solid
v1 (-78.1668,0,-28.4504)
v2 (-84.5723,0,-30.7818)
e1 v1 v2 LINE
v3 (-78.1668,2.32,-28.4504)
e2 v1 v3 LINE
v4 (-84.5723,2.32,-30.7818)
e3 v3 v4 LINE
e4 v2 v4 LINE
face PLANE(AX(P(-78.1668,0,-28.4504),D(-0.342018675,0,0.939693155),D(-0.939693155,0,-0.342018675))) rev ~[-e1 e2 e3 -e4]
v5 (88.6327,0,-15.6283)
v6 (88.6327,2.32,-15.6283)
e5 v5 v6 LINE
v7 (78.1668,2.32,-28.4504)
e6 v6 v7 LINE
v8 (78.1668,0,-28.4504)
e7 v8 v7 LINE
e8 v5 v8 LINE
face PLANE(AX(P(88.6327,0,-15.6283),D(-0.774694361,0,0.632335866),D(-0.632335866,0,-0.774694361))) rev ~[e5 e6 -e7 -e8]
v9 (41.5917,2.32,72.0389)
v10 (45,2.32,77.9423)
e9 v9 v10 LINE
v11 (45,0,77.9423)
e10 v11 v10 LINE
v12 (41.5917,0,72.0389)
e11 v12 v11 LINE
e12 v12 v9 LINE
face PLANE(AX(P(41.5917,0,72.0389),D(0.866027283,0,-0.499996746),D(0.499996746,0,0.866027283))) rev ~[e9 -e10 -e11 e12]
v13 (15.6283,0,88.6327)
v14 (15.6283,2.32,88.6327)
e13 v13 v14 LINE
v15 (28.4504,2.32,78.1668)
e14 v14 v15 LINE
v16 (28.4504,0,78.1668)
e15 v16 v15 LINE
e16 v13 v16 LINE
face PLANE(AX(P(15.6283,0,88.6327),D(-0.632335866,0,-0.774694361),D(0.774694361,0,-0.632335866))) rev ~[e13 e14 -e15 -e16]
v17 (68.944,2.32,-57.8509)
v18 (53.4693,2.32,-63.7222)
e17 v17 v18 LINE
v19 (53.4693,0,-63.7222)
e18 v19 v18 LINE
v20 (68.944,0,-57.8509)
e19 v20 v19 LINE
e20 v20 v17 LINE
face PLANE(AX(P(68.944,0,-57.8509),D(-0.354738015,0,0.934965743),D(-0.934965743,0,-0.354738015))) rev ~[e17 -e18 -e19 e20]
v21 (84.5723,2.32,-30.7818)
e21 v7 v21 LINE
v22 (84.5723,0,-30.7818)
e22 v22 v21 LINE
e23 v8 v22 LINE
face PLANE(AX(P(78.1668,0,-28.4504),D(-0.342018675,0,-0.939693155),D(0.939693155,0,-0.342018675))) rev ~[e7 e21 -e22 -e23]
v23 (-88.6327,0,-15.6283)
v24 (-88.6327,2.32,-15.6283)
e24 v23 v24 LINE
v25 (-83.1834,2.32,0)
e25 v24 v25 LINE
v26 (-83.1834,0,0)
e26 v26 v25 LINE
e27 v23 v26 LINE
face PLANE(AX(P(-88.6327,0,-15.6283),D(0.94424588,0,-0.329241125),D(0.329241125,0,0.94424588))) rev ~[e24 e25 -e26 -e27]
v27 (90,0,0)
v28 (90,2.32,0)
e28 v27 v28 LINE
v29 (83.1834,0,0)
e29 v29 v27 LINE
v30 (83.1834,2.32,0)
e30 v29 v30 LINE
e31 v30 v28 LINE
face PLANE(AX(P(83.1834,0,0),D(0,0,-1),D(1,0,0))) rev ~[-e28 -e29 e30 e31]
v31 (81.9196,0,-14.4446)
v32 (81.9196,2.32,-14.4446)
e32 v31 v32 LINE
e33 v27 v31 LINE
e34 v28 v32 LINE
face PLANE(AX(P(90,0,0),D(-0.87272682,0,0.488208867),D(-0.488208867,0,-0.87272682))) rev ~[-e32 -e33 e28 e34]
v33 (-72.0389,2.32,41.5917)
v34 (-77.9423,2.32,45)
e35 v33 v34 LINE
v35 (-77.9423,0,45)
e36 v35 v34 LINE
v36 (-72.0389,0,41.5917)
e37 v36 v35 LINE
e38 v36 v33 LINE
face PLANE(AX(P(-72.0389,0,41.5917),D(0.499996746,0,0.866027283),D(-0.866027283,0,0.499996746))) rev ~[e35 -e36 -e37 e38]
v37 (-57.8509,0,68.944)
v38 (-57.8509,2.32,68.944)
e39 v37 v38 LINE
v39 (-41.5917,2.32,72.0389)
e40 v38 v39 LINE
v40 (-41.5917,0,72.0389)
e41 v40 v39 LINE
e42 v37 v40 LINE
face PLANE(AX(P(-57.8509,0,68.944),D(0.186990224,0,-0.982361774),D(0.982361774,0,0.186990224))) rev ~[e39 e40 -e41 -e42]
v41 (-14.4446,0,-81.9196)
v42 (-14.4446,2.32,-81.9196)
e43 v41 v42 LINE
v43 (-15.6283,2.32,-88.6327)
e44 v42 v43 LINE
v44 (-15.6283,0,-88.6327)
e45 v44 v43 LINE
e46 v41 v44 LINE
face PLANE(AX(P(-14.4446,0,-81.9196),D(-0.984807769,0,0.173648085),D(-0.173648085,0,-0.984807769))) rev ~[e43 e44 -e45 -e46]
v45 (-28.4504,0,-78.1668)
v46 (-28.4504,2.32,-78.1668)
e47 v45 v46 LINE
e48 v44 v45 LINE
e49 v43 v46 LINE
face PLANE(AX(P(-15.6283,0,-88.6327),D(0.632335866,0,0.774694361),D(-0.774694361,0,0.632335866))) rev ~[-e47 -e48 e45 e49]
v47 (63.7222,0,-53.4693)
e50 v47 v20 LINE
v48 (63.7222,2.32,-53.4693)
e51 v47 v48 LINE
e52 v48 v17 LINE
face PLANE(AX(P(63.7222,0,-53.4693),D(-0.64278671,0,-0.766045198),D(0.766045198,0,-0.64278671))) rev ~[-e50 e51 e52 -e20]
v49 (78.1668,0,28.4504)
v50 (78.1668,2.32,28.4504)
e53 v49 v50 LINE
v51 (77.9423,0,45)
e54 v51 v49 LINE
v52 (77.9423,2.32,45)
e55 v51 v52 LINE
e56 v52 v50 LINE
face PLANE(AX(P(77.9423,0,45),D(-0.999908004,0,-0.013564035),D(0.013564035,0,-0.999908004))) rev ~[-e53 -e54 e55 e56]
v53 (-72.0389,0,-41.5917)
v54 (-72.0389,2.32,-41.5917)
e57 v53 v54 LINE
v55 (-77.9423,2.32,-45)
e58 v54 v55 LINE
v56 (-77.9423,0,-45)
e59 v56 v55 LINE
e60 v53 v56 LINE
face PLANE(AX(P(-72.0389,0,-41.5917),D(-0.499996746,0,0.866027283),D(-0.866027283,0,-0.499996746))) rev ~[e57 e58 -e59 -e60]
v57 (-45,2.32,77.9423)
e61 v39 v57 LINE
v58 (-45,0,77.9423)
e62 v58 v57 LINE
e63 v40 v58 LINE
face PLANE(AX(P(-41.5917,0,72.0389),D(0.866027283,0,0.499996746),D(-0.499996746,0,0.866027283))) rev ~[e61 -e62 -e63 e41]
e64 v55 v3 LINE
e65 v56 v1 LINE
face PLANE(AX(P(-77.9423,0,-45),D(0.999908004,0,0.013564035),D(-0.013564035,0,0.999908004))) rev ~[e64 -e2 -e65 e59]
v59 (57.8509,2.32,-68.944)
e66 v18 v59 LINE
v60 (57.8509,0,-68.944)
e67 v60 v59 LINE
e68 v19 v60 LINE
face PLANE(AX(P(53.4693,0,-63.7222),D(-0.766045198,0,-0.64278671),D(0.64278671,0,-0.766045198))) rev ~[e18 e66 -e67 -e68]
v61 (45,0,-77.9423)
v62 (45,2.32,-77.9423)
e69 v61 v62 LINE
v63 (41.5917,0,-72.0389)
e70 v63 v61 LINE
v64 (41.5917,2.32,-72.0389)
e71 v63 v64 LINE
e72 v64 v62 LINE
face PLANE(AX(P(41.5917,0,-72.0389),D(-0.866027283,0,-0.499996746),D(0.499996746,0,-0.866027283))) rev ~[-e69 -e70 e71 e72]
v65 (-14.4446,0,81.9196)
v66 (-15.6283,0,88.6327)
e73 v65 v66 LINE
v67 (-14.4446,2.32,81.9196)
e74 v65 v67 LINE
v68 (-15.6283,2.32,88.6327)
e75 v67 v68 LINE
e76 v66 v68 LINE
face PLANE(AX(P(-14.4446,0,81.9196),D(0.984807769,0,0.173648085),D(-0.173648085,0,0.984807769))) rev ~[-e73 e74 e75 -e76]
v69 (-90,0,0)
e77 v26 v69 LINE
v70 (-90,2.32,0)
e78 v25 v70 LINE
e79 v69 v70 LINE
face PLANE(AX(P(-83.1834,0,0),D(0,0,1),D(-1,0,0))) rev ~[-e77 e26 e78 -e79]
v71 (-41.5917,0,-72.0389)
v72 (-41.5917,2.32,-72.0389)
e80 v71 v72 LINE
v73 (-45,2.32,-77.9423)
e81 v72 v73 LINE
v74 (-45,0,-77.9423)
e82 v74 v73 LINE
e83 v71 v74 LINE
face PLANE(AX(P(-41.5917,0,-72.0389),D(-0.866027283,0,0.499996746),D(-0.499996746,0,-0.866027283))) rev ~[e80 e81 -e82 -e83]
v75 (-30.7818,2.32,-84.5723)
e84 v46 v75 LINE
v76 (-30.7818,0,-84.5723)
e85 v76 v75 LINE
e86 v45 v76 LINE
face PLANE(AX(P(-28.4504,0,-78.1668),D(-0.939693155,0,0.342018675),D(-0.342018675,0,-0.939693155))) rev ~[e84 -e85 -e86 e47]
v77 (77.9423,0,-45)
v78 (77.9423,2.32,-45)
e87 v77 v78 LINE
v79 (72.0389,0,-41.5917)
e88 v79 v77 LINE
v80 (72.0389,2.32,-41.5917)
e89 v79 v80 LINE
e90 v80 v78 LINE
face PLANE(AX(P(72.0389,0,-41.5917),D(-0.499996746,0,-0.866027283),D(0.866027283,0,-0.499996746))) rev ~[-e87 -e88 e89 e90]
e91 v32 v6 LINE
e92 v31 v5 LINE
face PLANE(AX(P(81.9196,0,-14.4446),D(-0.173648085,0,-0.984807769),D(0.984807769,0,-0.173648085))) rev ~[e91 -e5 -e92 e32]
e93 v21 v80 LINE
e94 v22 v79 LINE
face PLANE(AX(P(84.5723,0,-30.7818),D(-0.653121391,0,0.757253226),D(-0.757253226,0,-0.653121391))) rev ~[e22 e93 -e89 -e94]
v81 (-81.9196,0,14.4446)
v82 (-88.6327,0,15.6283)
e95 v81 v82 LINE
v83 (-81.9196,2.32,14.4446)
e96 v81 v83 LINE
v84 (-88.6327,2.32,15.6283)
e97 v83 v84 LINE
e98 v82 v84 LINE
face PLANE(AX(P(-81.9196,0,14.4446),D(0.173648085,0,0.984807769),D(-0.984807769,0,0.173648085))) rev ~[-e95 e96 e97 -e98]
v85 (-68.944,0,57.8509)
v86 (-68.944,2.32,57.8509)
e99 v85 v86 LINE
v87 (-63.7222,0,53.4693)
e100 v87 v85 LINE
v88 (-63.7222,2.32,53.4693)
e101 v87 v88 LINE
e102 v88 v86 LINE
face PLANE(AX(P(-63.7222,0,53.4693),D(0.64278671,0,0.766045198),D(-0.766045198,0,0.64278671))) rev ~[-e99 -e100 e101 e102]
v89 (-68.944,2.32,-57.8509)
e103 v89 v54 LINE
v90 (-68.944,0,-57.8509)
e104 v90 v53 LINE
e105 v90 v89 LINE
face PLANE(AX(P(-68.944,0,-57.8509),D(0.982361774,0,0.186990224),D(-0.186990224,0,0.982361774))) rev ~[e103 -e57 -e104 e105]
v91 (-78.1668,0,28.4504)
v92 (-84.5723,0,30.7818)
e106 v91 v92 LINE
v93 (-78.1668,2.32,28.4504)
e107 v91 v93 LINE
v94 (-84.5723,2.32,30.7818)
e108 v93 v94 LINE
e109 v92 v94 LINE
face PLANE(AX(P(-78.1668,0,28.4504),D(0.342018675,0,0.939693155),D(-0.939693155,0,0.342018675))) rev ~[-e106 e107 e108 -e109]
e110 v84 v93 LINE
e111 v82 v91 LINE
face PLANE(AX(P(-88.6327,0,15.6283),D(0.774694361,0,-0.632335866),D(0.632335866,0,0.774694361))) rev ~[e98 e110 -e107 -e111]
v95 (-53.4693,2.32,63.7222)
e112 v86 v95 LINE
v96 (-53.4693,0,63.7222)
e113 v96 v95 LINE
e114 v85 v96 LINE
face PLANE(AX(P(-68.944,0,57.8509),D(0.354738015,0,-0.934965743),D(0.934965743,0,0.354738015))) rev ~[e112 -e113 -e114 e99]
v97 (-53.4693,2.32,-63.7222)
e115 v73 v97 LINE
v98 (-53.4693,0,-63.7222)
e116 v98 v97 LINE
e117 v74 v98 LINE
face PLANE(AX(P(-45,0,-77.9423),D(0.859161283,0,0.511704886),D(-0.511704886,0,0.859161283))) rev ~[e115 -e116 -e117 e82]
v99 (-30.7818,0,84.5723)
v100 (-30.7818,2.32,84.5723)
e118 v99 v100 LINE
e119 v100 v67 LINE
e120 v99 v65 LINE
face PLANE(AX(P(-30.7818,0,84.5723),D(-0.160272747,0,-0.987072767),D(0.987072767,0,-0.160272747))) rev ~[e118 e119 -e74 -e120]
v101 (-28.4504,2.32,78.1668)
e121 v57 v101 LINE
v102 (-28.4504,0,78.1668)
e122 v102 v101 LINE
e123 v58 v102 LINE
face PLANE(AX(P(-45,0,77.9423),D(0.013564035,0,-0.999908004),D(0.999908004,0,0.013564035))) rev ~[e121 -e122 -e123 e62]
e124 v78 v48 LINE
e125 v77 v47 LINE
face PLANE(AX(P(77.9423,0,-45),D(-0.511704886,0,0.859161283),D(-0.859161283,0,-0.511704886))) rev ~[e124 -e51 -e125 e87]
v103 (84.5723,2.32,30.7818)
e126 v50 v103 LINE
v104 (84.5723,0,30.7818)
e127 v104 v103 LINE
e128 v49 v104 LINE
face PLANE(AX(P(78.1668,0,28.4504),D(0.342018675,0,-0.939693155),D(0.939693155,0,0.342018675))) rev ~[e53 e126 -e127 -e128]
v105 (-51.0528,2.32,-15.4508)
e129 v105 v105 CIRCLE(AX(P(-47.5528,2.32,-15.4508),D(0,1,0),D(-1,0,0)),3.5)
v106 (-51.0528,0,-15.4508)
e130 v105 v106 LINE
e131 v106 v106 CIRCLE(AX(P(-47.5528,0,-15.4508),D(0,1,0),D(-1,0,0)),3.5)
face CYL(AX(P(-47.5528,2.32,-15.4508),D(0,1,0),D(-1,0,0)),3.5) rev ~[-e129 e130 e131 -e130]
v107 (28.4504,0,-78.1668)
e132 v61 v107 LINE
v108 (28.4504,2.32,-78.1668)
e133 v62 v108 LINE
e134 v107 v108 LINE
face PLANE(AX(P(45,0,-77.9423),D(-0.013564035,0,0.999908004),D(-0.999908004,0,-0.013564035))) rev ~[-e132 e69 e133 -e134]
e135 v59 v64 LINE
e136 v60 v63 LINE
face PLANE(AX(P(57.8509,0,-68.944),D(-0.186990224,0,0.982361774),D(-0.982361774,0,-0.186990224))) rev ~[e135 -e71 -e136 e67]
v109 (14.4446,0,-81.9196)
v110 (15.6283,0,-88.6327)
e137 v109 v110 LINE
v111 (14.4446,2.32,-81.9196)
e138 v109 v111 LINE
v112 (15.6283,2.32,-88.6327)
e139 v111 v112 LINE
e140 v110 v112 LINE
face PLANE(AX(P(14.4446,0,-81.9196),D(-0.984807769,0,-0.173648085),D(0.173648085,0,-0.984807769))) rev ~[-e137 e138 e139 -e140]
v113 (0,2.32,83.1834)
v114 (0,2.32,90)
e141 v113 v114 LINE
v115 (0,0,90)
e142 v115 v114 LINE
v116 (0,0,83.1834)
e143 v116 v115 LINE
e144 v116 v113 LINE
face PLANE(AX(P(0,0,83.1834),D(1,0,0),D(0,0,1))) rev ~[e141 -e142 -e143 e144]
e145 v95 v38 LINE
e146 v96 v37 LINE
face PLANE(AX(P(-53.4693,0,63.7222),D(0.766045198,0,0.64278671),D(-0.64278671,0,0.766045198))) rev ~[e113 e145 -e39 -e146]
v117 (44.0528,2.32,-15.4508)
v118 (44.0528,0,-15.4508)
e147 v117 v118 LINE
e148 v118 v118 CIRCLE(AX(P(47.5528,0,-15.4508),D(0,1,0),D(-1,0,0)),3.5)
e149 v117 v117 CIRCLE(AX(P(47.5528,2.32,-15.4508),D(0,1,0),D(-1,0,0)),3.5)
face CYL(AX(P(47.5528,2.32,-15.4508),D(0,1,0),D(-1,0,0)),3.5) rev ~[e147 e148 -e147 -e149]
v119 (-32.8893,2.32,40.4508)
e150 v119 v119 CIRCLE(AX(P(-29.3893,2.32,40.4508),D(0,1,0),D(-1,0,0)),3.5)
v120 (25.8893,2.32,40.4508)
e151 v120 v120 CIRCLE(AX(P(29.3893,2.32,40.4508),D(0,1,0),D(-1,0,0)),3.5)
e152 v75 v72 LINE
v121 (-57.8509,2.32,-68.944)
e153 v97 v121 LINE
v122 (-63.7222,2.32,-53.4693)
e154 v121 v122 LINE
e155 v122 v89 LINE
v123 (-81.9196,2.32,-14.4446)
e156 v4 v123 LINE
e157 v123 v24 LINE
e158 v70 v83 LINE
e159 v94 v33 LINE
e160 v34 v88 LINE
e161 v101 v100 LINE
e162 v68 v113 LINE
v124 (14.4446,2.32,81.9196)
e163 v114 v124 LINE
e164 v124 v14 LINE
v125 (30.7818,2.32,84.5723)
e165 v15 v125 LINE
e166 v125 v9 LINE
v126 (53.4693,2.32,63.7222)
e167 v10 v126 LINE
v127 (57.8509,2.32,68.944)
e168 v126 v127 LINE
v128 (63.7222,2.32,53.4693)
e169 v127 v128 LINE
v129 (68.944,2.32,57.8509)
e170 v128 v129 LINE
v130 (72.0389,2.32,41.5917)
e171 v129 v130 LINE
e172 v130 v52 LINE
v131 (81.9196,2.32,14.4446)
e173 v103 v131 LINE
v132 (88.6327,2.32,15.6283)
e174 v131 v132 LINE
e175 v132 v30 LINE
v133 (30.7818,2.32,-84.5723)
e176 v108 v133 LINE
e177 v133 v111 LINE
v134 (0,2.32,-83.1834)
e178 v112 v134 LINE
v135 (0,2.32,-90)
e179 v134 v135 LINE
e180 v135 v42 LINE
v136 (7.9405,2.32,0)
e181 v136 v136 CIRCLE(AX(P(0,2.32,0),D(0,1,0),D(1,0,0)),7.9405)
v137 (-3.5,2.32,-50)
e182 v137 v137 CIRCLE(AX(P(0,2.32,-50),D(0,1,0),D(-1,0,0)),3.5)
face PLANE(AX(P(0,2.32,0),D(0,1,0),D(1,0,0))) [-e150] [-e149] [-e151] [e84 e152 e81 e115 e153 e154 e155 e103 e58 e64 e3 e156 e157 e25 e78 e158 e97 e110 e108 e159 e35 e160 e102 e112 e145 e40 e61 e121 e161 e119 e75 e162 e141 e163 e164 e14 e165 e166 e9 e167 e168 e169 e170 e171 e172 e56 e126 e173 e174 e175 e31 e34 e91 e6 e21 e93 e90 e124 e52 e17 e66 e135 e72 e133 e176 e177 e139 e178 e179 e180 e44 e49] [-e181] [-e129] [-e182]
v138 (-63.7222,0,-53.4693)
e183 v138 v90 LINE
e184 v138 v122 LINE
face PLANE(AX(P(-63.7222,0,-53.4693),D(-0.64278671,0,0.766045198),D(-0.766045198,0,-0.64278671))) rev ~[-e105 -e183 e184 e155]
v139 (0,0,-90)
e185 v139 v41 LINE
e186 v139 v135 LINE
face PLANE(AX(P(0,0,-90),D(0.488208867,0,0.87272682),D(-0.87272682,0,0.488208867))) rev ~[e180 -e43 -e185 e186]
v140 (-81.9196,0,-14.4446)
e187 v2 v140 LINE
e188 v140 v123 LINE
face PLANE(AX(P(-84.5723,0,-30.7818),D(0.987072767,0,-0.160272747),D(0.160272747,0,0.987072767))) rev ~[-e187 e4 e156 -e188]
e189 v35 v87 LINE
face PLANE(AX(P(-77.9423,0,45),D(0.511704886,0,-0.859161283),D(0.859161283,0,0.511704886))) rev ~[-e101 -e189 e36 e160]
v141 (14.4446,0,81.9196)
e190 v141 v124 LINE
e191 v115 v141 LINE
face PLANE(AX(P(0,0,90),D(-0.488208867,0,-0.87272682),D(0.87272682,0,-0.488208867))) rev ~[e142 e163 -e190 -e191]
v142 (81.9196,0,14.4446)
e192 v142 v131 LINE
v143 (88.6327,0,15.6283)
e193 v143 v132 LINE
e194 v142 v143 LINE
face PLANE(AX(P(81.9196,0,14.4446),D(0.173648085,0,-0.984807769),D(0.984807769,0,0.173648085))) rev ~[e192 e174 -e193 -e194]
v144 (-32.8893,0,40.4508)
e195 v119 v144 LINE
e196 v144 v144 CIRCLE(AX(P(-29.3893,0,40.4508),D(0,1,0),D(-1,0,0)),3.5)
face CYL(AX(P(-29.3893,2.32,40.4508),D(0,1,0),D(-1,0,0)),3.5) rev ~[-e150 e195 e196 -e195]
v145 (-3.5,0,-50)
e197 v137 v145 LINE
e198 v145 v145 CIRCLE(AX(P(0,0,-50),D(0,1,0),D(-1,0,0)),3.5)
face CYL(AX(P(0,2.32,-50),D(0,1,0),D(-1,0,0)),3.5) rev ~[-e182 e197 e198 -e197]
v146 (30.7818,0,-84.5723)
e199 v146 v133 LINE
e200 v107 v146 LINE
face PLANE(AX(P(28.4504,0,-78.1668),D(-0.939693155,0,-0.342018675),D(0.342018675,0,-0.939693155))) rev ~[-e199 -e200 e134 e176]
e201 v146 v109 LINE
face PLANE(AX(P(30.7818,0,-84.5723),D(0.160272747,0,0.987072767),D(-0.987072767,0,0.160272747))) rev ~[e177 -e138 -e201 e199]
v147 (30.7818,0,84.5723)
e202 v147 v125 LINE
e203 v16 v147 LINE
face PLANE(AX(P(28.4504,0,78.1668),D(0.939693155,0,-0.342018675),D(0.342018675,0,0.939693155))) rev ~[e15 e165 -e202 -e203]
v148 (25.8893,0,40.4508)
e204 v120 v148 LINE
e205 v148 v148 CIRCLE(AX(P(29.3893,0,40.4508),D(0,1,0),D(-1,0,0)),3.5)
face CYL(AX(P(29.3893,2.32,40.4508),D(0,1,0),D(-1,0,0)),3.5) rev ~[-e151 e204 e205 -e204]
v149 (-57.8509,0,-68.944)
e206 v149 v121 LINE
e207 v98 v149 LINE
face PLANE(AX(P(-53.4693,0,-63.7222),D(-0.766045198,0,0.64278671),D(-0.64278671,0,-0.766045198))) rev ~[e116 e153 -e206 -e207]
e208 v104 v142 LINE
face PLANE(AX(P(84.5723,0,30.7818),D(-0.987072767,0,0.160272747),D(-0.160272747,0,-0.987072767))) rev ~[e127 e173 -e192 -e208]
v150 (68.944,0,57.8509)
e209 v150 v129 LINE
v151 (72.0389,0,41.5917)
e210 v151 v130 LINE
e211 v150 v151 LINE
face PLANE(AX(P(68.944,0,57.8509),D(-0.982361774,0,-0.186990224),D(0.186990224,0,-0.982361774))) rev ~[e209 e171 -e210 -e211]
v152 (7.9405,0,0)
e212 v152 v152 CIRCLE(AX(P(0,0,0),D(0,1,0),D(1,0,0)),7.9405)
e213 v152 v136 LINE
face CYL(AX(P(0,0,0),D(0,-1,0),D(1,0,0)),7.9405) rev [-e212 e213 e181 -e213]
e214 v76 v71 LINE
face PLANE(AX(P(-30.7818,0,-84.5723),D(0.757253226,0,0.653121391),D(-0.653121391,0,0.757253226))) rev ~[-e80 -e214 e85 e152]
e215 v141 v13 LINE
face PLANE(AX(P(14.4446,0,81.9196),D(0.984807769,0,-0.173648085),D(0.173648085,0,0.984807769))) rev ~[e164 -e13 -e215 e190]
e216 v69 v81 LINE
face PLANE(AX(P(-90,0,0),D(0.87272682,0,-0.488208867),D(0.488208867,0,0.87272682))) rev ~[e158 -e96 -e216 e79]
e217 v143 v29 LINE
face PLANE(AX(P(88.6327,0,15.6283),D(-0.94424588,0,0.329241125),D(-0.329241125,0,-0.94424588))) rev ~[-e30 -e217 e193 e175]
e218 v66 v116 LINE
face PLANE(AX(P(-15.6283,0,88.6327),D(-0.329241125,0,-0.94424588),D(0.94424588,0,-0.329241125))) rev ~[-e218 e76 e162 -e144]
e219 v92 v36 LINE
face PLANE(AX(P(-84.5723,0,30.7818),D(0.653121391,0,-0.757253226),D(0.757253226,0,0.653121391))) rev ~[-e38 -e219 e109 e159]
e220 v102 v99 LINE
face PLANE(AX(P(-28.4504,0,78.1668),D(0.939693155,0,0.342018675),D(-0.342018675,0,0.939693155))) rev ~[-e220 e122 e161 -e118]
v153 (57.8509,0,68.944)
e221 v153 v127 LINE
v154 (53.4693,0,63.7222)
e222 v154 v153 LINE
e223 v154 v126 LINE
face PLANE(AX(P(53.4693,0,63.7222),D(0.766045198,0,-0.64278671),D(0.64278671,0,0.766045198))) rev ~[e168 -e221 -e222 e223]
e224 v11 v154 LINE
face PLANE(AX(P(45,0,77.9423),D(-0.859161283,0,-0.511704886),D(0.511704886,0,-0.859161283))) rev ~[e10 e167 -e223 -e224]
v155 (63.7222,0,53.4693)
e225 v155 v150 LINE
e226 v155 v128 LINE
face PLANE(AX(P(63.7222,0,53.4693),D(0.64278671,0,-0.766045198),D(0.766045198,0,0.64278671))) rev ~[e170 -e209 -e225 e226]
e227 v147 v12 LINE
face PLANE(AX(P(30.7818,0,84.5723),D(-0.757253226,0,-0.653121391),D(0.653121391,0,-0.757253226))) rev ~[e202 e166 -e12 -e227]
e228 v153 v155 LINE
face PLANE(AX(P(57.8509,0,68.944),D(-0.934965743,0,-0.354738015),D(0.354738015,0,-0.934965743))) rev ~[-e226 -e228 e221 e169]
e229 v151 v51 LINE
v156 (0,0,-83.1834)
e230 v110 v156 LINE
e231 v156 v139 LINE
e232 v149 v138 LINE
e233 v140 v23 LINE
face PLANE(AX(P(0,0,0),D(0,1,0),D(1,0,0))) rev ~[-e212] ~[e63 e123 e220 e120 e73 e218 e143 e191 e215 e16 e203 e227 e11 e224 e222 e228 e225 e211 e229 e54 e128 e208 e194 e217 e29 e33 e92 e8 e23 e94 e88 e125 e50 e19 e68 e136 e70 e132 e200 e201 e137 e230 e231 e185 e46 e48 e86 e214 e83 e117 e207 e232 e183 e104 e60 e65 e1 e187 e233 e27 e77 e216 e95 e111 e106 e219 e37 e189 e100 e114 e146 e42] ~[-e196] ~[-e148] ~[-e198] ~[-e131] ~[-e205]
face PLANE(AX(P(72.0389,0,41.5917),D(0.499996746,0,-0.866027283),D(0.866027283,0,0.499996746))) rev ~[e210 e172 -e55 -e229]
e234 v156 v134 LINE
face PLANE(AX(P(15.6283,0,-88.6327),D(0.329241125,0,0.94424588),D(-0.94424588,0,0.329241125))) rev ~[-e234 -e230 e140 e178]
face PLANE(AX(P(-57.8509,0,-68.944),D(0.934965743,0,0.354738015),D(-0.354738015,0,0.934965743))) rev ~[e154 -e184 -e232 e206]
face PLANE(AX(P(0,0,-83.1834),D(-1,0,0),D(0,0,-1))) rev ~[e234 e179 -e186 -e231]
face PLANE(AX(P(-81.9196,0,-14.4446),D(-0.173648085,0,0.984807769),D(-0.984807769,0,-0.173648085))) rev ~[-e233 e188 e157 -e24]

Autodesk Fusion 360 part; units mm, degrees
sketch "Sketch1" plane through (0, 0, 0) normal (0, 1, 0) x (1, 0, 0)
  circle A0 centre (0, 0) radius 90 construction
  line L0 (-81.9196, 14.4446) -> (-88.6327, 15.6283)
  line L1 (-88.6327, 15.6283) -> (-83.1834, 0)
  line L2 (-90, 0) -> (-81.9196, -14.4446)
  line L3 (-83.1834, 0) -> (-90, 0)
  line L4 (-88.6327, -15.6283) -> (-78.1668, -28.4504)
  line L5 (-81.9196, -14.4446) -> (-88.6327, -15.6283)
  line L6 (-84.5723, -30.7818) -> (-72.0389, -41.5917)
  line L7 (-78.1668, -28.4504) -> (-84.5723, -30.7818)
  line L8 (-77.9423, -45) -> (-63.7222, -53.4693)
  line L9 (-72.0389, -41.5917) -> (-77.9423, -45)
  line L10 (-68.944, -57.8509) -> (-53.4693, -63.7222)
  line L11 (-63.7222, -53.4693) -> (-68.944, -57.8509)
  line L12 (-57.8509, -68.944) -> (-41.5917, -72.0389)
  line L13 (-53.4693, -63.7222) -> (-57.8509, -68.944)
  line L14 (-45, -77.9423) -> (-28.4504, -78.1668)
  line L15 (-41.5917, -72.0389) -> (-45, -77.9423)
  line L16 (-30.7818, -84.5723) -> (-14.4446, -81.9196)
  line L17 (-28.4504, -78.1668) -> (-30.7818, -84.5723)
  line L18 (-15.6283, -88.6327) -> (0, -83.1834)
  line L19 (-14.4446, -81.9196) -> (-15.6283, -88.6327)
  line L20 (0, -90) -> (14.4446, -81.9196)
  line L21 (0, -83.1834) -> (0, -90)
  line L22 (15.6283, -88.6327) -> (28.4504, -78.1668)
  line L23 (14.4446, -81.9196) -> (15.6283, -88.6327)
  line L24 (30.7818, -84.5723) -> (41.5917, -72.0389)
  line L25 (28.4504, -78.1668) -> (30.7818, -84.5723)
  line L26 (45, -77.9423) -> (53.4693, -63.7222)
  line L27 (41.5917, -72.0389) -> (45, -77.9423)
  line L28 (57.8509, -68.944) -> (63.7222, -53.4693)
  line L29 (53.4693, -63.7222) -> (57.8509, -68.944)
  line L30 (68.944, -57.8509) -> (72.0389, -41.5917)
  line L31 (63.7222, -53.4693) -> (68.944, -57.8509)
  line L32 (77.9423, -45) -> (78.1668, -28.4504)
  line L33 (72.0389, -41.5917) -> (77.9423, -45)
  line L34 (84.5723, -30.7818) -> (81.9196, -14.4446)
  line L35 (78.1668, -28.4504) -> (84.5723, -30.7818)
  line L36 (88.6327, -15.6283) -> (83.1834, 0)
  line L37 (81.9196, -14.4446) -> (88.6327, -15.6283)
  line L38 (90, 0) -> (81.9196, 14.4446)
  line L39 (83.1834, 0) -> (90, 0)
  line L40 (88.6327, 15.6283) -> (78.1668, 28.4504)
  line L41 (81.9196, 14.4446) -> (88.6327, 15.6283)
  line L42 (84.5723, 30.7818) -> (72.0389, 41.5917)
  line L43 (78.1668, 28.4504) -> (84.5723, 30.7818)
  line L44 (77.9423, 45) -> (63.7222, 53.4693)
  line L45 (72.0389, 41.5917) -> (77.9423, 45)
  line L46 (68.944, 57.8509) -> (53.4693, 63.7222)
  line L47 (63.7222, 53.4693) -> (68.944, 57.8509)
  line L48 (57.8509, 68.944) -> (41.5917, 72.0389)
  line L49 (53.4693, 63.7222) -> (57.8509, 68.944)
  line L50 (45, 77.9423) -> (28.4504, 78.1668)
  line L51 (41.5917, 72.0389) -> (45, 77.9423)
  line L52 (30.7818, 84.5723) -> (14.4446, 81.9196)
  line L53 (28.4504, 78.1668) -> (30.7818, 84.5723)
  line L54 (15.6283, 88.6327) -> (0, 83.1834)
  line L55 (14.4446, 81.9196) -> (15.6283, 88.6327)
  line L56 (0, 90) -> (-14.4446, 81.9196)
  line L57 (0, 83.1834) -> (0, 90)
  line L58 (-15.6283, 88.6327) -> (-28.4504, 78.1668)
  line L59 (-14.4446, 81.9196) -> (-15.6283, 88.6327)
  line L60 (-30.7818, 84.5723) -> (-41.5917, 72.0389)
  line L61 (-28.4504, 78.1668) -> (-30.7818, 84.5723)
  line L62 (-45, 77.9423) -> (-53.4693, 63.7222)
  line L63 (-41.5917, 72.0389) -> (-45, 77.9423)
  line L64 (-57.8509, 68.944) -> (-63.7222, 53.4693)
  line L65 (-53.4693, 63.7222) -> (-57.8509, 68.944)
  line L66 (-68.944, 57.8509) -> (-72.0389, 41.5917)
  line L67 (-63.7222, 53.4693) -> (-68.944, 57.8509)
  line L68 (-77.9423, 45) -> (-78.1668, 28.4504)
  line L69 (-72.0389, 41.5917) -> (-77.9423, 45)
  line L70 (-84.5723, 30.7818) -> (-81.9196, 14.4446)
  line L71 (-78.1668, 28.4504) -> (-84.5723, 30.7818)
  circle A1 centre (0, 0) radius 7.9405
  dimension "d1" = 180
  dimension "d5" = 15.881
extrude "Extrude1" add sketch "Sketch1" along normal blind 2.32
sketch "Sketch2" plane through (0, 2.32, 0) normal (0, 1, 0) x (-1, 0, 0)
  circle A0 centre (0, 0) radius 7.9405
  line L0 (78.1668, -28.4504) -> (84.5723, -30.7818)
  line L1 (84.5723, -30.7818) -> (81.9196, -14.4446)
  line L2 (81.9196, -14.4446) -> (88.6327, -15.6283)
  line L3 (88.6327, -15.6283) -> (83.1834, 0)
  line L4 (83.1834, 0) -> (90, 0)
  line L5 (90, 0) -> (81.9196, 14.4446)
  line L6 (81.9196, 14.4446) -> (88.6327, 15.6283)
  line L7 (88.6327, 15.6283) -> (78.1668, 28.4504)
  line L8 (78.1668, 28.4504) -> (84.5723, 30.7818)
  line L9 (84.5723, 30.7818) -> (72.0389, 41.5917)
  line L10 (72.0389, 41.5917) -> (77.9423, 45)
  line L11 (77.9423, 45) -> (63.7222, 53.4693)
  line L12 (63.7222, 53.4693) -> (68.944, 57.8509)
  line L13 (68.944, 57.8509) -> (53.4693, 63.7222)
  line L14 (53.4693, 63.7222) -> (57.8509, 68.944)
  line L15 (57.8509, 68.944) -> (41.5917, 72.0389)
  line L16 (41.5917, 72.0389) -> (45, 77.9423)
  line L17 (45, 77.9423) -> (28.4504, 78.1668)
  line L18 (28.4504, 78.1668) -> (30.7818, 84.5723)
  line L19 (30.7818, 84.5723) -> (14.4446, 81.9196)
  line L20 (14.4446, 81.9196) -> (15.6283, 88.6327)
  line L21 (15.6283, 88.6327) -> (0, 83.1834)
  line L22 (0, 83.1834) -> (0, 90)
  line L23 (0, 90) -> (-14.4446, 81.9196)
  line L24 (-14.4446, 81.9196) -> (-15.6283, 88.6327)
  line L25 (-15.6283, 88.6327) -> (-28.4504, 78.1668)
  line L26 (-28.4504, 78.1668) -> (-30.7818, 84.5723)
  line L27 (-30.7818, 84.5723) -> (-41.5917, 72.0389)
  line L28 (-41.5917, 72.0389) -> (-45, 77.9423)
  line L29 (-45, 77.9423) -> (-53.4693, 63.7222)
  line L30 (-53.4693, 63.7222) -> (-57.8509, 68.944)
  line L31 (-57.8509, 68.944) -> (-63.7222, 53.4693)
  line L32 (-63.7222, 53.4693) -> (-68.944, 57.8509)
  line L33 (-68.944, 57.8509) -> (-72.0389, 41.5917)
  line L34 (-72.0389, 41.5917) -> (-77.9423, 45)
  line L35 (-77.9423, 45) -> (-78.1668, 28.4504)
  line L36 (-78.1668, 28.4504) -> (-84.5723, 30.7818)
  line L37 (-84.5723, 30.7818) -> (-81.9196, 14.4446)
  line L38 (-81.9196, 14.4446) -> (-88.6327, 15.6283)
  line L39 (-88.6327, 15.6283) -> (-83.1834, 0)
  line L40 (-83.1834, 0) -> (-90, 0)
  line L41 (-90, 0) -> (-81.9196, -14.4446)
  line L42 (-81.9196, -14.4446) -> (-88.6327, -15.6283)
  line L43 (-88.6327, -15.6283) -> (-78.1668, -28.4504)
  line L44 (-78.1668, -28.4504) -> (-84.5723, -30.7818)
  line L45 (-84.5723, -30.7818) -> (-72.0389, -41.5917)
  line L46 (-72.0389, -41.5917) -> (-77.9423, -45)
  line L47 (-77.9423, -45) -> (-63.7222, -53.4693)
  line L48 (-63.7222, -53.4693) -> (-68.944, -57.8509)
  line L49 (-68.944, -57.8509) -> (-53.4693, -63.7222)
  line L50 (-53.4693, -63.7222) -> (-57.8509, -68.944)
  line L51 (-57.8509, -68.944) -> (-41.5917, -72.0389)
  line L52 (-41.5917, -72.0389) -> (-45, -77.9423)
  line L53 (-45, -77.9423) -> (-28.4504, -78.1668)
  line L54 (-28.4504, -78.1668) -> (-30.7818, -84.5723)
  line L55 (-30.7818, -84.5723) -> (-14.4446, -81.9196)
  line L56 (-14.4446, -81.9196) -> (-15.6283, -88.6327)
  line L57 (-15.6283, -88.6327) -> (0, -83.1834)
  line L58 (0, -83.1834) -> (0, -90)
  line L59 (0, -90) -> (14.4446, -81.9196)
  line L60 (14.4446, -81.9196) -> (15.6283, -88.6327)
  line L61 (15.6283, -88.6327) -> (28.4504, -78.1668)
  line L62 (28.4504, -78.1668) -> (30.7818, -84.5723)
  line L63 (30.7818, -84.5723) -> (41.5917, -72.0389)
  line L64 (41.5917, -72.0389) -> (45, -77.9423)
  line L65 (45, -77.9423) -> (53.4693, -63.7222)
  line L66 (53.4693, -63.7222) -> (57.8509, -68.944)
  line L67 (57.8509, -68.944) -> (63.7222, -53.4693)
  line L68 (63.7222, -53.4693) -> (68.944, -57.8509)
  line L69 (68.944, -57.8509) -> (72.0389, -41.5917)
  line L70 (72.0389, -41.5917) -> (77.9423, -45)
  line L71 (77.9423, -45) -> (78.1668, -28.4504)
  circle A1 centre (0, -50) radius 3.5
  circle A2 centre (47.5528, -15.4508) radius 3.5
  circle A3 centre (29.3893, 40.4508) radius 3.5
  circle A4 centre (-29.3893, 40.4508) radius 3.5
  circle A5 centre (-47.5528, -15.4508) radius 3.5
  dimension "d8" = 7
  dimension "d10" = 360
extrude "Extrude2" cut sketch "Sketch2" against normal blind 30 contours A1 | A2 | A3 | A4 | A5
